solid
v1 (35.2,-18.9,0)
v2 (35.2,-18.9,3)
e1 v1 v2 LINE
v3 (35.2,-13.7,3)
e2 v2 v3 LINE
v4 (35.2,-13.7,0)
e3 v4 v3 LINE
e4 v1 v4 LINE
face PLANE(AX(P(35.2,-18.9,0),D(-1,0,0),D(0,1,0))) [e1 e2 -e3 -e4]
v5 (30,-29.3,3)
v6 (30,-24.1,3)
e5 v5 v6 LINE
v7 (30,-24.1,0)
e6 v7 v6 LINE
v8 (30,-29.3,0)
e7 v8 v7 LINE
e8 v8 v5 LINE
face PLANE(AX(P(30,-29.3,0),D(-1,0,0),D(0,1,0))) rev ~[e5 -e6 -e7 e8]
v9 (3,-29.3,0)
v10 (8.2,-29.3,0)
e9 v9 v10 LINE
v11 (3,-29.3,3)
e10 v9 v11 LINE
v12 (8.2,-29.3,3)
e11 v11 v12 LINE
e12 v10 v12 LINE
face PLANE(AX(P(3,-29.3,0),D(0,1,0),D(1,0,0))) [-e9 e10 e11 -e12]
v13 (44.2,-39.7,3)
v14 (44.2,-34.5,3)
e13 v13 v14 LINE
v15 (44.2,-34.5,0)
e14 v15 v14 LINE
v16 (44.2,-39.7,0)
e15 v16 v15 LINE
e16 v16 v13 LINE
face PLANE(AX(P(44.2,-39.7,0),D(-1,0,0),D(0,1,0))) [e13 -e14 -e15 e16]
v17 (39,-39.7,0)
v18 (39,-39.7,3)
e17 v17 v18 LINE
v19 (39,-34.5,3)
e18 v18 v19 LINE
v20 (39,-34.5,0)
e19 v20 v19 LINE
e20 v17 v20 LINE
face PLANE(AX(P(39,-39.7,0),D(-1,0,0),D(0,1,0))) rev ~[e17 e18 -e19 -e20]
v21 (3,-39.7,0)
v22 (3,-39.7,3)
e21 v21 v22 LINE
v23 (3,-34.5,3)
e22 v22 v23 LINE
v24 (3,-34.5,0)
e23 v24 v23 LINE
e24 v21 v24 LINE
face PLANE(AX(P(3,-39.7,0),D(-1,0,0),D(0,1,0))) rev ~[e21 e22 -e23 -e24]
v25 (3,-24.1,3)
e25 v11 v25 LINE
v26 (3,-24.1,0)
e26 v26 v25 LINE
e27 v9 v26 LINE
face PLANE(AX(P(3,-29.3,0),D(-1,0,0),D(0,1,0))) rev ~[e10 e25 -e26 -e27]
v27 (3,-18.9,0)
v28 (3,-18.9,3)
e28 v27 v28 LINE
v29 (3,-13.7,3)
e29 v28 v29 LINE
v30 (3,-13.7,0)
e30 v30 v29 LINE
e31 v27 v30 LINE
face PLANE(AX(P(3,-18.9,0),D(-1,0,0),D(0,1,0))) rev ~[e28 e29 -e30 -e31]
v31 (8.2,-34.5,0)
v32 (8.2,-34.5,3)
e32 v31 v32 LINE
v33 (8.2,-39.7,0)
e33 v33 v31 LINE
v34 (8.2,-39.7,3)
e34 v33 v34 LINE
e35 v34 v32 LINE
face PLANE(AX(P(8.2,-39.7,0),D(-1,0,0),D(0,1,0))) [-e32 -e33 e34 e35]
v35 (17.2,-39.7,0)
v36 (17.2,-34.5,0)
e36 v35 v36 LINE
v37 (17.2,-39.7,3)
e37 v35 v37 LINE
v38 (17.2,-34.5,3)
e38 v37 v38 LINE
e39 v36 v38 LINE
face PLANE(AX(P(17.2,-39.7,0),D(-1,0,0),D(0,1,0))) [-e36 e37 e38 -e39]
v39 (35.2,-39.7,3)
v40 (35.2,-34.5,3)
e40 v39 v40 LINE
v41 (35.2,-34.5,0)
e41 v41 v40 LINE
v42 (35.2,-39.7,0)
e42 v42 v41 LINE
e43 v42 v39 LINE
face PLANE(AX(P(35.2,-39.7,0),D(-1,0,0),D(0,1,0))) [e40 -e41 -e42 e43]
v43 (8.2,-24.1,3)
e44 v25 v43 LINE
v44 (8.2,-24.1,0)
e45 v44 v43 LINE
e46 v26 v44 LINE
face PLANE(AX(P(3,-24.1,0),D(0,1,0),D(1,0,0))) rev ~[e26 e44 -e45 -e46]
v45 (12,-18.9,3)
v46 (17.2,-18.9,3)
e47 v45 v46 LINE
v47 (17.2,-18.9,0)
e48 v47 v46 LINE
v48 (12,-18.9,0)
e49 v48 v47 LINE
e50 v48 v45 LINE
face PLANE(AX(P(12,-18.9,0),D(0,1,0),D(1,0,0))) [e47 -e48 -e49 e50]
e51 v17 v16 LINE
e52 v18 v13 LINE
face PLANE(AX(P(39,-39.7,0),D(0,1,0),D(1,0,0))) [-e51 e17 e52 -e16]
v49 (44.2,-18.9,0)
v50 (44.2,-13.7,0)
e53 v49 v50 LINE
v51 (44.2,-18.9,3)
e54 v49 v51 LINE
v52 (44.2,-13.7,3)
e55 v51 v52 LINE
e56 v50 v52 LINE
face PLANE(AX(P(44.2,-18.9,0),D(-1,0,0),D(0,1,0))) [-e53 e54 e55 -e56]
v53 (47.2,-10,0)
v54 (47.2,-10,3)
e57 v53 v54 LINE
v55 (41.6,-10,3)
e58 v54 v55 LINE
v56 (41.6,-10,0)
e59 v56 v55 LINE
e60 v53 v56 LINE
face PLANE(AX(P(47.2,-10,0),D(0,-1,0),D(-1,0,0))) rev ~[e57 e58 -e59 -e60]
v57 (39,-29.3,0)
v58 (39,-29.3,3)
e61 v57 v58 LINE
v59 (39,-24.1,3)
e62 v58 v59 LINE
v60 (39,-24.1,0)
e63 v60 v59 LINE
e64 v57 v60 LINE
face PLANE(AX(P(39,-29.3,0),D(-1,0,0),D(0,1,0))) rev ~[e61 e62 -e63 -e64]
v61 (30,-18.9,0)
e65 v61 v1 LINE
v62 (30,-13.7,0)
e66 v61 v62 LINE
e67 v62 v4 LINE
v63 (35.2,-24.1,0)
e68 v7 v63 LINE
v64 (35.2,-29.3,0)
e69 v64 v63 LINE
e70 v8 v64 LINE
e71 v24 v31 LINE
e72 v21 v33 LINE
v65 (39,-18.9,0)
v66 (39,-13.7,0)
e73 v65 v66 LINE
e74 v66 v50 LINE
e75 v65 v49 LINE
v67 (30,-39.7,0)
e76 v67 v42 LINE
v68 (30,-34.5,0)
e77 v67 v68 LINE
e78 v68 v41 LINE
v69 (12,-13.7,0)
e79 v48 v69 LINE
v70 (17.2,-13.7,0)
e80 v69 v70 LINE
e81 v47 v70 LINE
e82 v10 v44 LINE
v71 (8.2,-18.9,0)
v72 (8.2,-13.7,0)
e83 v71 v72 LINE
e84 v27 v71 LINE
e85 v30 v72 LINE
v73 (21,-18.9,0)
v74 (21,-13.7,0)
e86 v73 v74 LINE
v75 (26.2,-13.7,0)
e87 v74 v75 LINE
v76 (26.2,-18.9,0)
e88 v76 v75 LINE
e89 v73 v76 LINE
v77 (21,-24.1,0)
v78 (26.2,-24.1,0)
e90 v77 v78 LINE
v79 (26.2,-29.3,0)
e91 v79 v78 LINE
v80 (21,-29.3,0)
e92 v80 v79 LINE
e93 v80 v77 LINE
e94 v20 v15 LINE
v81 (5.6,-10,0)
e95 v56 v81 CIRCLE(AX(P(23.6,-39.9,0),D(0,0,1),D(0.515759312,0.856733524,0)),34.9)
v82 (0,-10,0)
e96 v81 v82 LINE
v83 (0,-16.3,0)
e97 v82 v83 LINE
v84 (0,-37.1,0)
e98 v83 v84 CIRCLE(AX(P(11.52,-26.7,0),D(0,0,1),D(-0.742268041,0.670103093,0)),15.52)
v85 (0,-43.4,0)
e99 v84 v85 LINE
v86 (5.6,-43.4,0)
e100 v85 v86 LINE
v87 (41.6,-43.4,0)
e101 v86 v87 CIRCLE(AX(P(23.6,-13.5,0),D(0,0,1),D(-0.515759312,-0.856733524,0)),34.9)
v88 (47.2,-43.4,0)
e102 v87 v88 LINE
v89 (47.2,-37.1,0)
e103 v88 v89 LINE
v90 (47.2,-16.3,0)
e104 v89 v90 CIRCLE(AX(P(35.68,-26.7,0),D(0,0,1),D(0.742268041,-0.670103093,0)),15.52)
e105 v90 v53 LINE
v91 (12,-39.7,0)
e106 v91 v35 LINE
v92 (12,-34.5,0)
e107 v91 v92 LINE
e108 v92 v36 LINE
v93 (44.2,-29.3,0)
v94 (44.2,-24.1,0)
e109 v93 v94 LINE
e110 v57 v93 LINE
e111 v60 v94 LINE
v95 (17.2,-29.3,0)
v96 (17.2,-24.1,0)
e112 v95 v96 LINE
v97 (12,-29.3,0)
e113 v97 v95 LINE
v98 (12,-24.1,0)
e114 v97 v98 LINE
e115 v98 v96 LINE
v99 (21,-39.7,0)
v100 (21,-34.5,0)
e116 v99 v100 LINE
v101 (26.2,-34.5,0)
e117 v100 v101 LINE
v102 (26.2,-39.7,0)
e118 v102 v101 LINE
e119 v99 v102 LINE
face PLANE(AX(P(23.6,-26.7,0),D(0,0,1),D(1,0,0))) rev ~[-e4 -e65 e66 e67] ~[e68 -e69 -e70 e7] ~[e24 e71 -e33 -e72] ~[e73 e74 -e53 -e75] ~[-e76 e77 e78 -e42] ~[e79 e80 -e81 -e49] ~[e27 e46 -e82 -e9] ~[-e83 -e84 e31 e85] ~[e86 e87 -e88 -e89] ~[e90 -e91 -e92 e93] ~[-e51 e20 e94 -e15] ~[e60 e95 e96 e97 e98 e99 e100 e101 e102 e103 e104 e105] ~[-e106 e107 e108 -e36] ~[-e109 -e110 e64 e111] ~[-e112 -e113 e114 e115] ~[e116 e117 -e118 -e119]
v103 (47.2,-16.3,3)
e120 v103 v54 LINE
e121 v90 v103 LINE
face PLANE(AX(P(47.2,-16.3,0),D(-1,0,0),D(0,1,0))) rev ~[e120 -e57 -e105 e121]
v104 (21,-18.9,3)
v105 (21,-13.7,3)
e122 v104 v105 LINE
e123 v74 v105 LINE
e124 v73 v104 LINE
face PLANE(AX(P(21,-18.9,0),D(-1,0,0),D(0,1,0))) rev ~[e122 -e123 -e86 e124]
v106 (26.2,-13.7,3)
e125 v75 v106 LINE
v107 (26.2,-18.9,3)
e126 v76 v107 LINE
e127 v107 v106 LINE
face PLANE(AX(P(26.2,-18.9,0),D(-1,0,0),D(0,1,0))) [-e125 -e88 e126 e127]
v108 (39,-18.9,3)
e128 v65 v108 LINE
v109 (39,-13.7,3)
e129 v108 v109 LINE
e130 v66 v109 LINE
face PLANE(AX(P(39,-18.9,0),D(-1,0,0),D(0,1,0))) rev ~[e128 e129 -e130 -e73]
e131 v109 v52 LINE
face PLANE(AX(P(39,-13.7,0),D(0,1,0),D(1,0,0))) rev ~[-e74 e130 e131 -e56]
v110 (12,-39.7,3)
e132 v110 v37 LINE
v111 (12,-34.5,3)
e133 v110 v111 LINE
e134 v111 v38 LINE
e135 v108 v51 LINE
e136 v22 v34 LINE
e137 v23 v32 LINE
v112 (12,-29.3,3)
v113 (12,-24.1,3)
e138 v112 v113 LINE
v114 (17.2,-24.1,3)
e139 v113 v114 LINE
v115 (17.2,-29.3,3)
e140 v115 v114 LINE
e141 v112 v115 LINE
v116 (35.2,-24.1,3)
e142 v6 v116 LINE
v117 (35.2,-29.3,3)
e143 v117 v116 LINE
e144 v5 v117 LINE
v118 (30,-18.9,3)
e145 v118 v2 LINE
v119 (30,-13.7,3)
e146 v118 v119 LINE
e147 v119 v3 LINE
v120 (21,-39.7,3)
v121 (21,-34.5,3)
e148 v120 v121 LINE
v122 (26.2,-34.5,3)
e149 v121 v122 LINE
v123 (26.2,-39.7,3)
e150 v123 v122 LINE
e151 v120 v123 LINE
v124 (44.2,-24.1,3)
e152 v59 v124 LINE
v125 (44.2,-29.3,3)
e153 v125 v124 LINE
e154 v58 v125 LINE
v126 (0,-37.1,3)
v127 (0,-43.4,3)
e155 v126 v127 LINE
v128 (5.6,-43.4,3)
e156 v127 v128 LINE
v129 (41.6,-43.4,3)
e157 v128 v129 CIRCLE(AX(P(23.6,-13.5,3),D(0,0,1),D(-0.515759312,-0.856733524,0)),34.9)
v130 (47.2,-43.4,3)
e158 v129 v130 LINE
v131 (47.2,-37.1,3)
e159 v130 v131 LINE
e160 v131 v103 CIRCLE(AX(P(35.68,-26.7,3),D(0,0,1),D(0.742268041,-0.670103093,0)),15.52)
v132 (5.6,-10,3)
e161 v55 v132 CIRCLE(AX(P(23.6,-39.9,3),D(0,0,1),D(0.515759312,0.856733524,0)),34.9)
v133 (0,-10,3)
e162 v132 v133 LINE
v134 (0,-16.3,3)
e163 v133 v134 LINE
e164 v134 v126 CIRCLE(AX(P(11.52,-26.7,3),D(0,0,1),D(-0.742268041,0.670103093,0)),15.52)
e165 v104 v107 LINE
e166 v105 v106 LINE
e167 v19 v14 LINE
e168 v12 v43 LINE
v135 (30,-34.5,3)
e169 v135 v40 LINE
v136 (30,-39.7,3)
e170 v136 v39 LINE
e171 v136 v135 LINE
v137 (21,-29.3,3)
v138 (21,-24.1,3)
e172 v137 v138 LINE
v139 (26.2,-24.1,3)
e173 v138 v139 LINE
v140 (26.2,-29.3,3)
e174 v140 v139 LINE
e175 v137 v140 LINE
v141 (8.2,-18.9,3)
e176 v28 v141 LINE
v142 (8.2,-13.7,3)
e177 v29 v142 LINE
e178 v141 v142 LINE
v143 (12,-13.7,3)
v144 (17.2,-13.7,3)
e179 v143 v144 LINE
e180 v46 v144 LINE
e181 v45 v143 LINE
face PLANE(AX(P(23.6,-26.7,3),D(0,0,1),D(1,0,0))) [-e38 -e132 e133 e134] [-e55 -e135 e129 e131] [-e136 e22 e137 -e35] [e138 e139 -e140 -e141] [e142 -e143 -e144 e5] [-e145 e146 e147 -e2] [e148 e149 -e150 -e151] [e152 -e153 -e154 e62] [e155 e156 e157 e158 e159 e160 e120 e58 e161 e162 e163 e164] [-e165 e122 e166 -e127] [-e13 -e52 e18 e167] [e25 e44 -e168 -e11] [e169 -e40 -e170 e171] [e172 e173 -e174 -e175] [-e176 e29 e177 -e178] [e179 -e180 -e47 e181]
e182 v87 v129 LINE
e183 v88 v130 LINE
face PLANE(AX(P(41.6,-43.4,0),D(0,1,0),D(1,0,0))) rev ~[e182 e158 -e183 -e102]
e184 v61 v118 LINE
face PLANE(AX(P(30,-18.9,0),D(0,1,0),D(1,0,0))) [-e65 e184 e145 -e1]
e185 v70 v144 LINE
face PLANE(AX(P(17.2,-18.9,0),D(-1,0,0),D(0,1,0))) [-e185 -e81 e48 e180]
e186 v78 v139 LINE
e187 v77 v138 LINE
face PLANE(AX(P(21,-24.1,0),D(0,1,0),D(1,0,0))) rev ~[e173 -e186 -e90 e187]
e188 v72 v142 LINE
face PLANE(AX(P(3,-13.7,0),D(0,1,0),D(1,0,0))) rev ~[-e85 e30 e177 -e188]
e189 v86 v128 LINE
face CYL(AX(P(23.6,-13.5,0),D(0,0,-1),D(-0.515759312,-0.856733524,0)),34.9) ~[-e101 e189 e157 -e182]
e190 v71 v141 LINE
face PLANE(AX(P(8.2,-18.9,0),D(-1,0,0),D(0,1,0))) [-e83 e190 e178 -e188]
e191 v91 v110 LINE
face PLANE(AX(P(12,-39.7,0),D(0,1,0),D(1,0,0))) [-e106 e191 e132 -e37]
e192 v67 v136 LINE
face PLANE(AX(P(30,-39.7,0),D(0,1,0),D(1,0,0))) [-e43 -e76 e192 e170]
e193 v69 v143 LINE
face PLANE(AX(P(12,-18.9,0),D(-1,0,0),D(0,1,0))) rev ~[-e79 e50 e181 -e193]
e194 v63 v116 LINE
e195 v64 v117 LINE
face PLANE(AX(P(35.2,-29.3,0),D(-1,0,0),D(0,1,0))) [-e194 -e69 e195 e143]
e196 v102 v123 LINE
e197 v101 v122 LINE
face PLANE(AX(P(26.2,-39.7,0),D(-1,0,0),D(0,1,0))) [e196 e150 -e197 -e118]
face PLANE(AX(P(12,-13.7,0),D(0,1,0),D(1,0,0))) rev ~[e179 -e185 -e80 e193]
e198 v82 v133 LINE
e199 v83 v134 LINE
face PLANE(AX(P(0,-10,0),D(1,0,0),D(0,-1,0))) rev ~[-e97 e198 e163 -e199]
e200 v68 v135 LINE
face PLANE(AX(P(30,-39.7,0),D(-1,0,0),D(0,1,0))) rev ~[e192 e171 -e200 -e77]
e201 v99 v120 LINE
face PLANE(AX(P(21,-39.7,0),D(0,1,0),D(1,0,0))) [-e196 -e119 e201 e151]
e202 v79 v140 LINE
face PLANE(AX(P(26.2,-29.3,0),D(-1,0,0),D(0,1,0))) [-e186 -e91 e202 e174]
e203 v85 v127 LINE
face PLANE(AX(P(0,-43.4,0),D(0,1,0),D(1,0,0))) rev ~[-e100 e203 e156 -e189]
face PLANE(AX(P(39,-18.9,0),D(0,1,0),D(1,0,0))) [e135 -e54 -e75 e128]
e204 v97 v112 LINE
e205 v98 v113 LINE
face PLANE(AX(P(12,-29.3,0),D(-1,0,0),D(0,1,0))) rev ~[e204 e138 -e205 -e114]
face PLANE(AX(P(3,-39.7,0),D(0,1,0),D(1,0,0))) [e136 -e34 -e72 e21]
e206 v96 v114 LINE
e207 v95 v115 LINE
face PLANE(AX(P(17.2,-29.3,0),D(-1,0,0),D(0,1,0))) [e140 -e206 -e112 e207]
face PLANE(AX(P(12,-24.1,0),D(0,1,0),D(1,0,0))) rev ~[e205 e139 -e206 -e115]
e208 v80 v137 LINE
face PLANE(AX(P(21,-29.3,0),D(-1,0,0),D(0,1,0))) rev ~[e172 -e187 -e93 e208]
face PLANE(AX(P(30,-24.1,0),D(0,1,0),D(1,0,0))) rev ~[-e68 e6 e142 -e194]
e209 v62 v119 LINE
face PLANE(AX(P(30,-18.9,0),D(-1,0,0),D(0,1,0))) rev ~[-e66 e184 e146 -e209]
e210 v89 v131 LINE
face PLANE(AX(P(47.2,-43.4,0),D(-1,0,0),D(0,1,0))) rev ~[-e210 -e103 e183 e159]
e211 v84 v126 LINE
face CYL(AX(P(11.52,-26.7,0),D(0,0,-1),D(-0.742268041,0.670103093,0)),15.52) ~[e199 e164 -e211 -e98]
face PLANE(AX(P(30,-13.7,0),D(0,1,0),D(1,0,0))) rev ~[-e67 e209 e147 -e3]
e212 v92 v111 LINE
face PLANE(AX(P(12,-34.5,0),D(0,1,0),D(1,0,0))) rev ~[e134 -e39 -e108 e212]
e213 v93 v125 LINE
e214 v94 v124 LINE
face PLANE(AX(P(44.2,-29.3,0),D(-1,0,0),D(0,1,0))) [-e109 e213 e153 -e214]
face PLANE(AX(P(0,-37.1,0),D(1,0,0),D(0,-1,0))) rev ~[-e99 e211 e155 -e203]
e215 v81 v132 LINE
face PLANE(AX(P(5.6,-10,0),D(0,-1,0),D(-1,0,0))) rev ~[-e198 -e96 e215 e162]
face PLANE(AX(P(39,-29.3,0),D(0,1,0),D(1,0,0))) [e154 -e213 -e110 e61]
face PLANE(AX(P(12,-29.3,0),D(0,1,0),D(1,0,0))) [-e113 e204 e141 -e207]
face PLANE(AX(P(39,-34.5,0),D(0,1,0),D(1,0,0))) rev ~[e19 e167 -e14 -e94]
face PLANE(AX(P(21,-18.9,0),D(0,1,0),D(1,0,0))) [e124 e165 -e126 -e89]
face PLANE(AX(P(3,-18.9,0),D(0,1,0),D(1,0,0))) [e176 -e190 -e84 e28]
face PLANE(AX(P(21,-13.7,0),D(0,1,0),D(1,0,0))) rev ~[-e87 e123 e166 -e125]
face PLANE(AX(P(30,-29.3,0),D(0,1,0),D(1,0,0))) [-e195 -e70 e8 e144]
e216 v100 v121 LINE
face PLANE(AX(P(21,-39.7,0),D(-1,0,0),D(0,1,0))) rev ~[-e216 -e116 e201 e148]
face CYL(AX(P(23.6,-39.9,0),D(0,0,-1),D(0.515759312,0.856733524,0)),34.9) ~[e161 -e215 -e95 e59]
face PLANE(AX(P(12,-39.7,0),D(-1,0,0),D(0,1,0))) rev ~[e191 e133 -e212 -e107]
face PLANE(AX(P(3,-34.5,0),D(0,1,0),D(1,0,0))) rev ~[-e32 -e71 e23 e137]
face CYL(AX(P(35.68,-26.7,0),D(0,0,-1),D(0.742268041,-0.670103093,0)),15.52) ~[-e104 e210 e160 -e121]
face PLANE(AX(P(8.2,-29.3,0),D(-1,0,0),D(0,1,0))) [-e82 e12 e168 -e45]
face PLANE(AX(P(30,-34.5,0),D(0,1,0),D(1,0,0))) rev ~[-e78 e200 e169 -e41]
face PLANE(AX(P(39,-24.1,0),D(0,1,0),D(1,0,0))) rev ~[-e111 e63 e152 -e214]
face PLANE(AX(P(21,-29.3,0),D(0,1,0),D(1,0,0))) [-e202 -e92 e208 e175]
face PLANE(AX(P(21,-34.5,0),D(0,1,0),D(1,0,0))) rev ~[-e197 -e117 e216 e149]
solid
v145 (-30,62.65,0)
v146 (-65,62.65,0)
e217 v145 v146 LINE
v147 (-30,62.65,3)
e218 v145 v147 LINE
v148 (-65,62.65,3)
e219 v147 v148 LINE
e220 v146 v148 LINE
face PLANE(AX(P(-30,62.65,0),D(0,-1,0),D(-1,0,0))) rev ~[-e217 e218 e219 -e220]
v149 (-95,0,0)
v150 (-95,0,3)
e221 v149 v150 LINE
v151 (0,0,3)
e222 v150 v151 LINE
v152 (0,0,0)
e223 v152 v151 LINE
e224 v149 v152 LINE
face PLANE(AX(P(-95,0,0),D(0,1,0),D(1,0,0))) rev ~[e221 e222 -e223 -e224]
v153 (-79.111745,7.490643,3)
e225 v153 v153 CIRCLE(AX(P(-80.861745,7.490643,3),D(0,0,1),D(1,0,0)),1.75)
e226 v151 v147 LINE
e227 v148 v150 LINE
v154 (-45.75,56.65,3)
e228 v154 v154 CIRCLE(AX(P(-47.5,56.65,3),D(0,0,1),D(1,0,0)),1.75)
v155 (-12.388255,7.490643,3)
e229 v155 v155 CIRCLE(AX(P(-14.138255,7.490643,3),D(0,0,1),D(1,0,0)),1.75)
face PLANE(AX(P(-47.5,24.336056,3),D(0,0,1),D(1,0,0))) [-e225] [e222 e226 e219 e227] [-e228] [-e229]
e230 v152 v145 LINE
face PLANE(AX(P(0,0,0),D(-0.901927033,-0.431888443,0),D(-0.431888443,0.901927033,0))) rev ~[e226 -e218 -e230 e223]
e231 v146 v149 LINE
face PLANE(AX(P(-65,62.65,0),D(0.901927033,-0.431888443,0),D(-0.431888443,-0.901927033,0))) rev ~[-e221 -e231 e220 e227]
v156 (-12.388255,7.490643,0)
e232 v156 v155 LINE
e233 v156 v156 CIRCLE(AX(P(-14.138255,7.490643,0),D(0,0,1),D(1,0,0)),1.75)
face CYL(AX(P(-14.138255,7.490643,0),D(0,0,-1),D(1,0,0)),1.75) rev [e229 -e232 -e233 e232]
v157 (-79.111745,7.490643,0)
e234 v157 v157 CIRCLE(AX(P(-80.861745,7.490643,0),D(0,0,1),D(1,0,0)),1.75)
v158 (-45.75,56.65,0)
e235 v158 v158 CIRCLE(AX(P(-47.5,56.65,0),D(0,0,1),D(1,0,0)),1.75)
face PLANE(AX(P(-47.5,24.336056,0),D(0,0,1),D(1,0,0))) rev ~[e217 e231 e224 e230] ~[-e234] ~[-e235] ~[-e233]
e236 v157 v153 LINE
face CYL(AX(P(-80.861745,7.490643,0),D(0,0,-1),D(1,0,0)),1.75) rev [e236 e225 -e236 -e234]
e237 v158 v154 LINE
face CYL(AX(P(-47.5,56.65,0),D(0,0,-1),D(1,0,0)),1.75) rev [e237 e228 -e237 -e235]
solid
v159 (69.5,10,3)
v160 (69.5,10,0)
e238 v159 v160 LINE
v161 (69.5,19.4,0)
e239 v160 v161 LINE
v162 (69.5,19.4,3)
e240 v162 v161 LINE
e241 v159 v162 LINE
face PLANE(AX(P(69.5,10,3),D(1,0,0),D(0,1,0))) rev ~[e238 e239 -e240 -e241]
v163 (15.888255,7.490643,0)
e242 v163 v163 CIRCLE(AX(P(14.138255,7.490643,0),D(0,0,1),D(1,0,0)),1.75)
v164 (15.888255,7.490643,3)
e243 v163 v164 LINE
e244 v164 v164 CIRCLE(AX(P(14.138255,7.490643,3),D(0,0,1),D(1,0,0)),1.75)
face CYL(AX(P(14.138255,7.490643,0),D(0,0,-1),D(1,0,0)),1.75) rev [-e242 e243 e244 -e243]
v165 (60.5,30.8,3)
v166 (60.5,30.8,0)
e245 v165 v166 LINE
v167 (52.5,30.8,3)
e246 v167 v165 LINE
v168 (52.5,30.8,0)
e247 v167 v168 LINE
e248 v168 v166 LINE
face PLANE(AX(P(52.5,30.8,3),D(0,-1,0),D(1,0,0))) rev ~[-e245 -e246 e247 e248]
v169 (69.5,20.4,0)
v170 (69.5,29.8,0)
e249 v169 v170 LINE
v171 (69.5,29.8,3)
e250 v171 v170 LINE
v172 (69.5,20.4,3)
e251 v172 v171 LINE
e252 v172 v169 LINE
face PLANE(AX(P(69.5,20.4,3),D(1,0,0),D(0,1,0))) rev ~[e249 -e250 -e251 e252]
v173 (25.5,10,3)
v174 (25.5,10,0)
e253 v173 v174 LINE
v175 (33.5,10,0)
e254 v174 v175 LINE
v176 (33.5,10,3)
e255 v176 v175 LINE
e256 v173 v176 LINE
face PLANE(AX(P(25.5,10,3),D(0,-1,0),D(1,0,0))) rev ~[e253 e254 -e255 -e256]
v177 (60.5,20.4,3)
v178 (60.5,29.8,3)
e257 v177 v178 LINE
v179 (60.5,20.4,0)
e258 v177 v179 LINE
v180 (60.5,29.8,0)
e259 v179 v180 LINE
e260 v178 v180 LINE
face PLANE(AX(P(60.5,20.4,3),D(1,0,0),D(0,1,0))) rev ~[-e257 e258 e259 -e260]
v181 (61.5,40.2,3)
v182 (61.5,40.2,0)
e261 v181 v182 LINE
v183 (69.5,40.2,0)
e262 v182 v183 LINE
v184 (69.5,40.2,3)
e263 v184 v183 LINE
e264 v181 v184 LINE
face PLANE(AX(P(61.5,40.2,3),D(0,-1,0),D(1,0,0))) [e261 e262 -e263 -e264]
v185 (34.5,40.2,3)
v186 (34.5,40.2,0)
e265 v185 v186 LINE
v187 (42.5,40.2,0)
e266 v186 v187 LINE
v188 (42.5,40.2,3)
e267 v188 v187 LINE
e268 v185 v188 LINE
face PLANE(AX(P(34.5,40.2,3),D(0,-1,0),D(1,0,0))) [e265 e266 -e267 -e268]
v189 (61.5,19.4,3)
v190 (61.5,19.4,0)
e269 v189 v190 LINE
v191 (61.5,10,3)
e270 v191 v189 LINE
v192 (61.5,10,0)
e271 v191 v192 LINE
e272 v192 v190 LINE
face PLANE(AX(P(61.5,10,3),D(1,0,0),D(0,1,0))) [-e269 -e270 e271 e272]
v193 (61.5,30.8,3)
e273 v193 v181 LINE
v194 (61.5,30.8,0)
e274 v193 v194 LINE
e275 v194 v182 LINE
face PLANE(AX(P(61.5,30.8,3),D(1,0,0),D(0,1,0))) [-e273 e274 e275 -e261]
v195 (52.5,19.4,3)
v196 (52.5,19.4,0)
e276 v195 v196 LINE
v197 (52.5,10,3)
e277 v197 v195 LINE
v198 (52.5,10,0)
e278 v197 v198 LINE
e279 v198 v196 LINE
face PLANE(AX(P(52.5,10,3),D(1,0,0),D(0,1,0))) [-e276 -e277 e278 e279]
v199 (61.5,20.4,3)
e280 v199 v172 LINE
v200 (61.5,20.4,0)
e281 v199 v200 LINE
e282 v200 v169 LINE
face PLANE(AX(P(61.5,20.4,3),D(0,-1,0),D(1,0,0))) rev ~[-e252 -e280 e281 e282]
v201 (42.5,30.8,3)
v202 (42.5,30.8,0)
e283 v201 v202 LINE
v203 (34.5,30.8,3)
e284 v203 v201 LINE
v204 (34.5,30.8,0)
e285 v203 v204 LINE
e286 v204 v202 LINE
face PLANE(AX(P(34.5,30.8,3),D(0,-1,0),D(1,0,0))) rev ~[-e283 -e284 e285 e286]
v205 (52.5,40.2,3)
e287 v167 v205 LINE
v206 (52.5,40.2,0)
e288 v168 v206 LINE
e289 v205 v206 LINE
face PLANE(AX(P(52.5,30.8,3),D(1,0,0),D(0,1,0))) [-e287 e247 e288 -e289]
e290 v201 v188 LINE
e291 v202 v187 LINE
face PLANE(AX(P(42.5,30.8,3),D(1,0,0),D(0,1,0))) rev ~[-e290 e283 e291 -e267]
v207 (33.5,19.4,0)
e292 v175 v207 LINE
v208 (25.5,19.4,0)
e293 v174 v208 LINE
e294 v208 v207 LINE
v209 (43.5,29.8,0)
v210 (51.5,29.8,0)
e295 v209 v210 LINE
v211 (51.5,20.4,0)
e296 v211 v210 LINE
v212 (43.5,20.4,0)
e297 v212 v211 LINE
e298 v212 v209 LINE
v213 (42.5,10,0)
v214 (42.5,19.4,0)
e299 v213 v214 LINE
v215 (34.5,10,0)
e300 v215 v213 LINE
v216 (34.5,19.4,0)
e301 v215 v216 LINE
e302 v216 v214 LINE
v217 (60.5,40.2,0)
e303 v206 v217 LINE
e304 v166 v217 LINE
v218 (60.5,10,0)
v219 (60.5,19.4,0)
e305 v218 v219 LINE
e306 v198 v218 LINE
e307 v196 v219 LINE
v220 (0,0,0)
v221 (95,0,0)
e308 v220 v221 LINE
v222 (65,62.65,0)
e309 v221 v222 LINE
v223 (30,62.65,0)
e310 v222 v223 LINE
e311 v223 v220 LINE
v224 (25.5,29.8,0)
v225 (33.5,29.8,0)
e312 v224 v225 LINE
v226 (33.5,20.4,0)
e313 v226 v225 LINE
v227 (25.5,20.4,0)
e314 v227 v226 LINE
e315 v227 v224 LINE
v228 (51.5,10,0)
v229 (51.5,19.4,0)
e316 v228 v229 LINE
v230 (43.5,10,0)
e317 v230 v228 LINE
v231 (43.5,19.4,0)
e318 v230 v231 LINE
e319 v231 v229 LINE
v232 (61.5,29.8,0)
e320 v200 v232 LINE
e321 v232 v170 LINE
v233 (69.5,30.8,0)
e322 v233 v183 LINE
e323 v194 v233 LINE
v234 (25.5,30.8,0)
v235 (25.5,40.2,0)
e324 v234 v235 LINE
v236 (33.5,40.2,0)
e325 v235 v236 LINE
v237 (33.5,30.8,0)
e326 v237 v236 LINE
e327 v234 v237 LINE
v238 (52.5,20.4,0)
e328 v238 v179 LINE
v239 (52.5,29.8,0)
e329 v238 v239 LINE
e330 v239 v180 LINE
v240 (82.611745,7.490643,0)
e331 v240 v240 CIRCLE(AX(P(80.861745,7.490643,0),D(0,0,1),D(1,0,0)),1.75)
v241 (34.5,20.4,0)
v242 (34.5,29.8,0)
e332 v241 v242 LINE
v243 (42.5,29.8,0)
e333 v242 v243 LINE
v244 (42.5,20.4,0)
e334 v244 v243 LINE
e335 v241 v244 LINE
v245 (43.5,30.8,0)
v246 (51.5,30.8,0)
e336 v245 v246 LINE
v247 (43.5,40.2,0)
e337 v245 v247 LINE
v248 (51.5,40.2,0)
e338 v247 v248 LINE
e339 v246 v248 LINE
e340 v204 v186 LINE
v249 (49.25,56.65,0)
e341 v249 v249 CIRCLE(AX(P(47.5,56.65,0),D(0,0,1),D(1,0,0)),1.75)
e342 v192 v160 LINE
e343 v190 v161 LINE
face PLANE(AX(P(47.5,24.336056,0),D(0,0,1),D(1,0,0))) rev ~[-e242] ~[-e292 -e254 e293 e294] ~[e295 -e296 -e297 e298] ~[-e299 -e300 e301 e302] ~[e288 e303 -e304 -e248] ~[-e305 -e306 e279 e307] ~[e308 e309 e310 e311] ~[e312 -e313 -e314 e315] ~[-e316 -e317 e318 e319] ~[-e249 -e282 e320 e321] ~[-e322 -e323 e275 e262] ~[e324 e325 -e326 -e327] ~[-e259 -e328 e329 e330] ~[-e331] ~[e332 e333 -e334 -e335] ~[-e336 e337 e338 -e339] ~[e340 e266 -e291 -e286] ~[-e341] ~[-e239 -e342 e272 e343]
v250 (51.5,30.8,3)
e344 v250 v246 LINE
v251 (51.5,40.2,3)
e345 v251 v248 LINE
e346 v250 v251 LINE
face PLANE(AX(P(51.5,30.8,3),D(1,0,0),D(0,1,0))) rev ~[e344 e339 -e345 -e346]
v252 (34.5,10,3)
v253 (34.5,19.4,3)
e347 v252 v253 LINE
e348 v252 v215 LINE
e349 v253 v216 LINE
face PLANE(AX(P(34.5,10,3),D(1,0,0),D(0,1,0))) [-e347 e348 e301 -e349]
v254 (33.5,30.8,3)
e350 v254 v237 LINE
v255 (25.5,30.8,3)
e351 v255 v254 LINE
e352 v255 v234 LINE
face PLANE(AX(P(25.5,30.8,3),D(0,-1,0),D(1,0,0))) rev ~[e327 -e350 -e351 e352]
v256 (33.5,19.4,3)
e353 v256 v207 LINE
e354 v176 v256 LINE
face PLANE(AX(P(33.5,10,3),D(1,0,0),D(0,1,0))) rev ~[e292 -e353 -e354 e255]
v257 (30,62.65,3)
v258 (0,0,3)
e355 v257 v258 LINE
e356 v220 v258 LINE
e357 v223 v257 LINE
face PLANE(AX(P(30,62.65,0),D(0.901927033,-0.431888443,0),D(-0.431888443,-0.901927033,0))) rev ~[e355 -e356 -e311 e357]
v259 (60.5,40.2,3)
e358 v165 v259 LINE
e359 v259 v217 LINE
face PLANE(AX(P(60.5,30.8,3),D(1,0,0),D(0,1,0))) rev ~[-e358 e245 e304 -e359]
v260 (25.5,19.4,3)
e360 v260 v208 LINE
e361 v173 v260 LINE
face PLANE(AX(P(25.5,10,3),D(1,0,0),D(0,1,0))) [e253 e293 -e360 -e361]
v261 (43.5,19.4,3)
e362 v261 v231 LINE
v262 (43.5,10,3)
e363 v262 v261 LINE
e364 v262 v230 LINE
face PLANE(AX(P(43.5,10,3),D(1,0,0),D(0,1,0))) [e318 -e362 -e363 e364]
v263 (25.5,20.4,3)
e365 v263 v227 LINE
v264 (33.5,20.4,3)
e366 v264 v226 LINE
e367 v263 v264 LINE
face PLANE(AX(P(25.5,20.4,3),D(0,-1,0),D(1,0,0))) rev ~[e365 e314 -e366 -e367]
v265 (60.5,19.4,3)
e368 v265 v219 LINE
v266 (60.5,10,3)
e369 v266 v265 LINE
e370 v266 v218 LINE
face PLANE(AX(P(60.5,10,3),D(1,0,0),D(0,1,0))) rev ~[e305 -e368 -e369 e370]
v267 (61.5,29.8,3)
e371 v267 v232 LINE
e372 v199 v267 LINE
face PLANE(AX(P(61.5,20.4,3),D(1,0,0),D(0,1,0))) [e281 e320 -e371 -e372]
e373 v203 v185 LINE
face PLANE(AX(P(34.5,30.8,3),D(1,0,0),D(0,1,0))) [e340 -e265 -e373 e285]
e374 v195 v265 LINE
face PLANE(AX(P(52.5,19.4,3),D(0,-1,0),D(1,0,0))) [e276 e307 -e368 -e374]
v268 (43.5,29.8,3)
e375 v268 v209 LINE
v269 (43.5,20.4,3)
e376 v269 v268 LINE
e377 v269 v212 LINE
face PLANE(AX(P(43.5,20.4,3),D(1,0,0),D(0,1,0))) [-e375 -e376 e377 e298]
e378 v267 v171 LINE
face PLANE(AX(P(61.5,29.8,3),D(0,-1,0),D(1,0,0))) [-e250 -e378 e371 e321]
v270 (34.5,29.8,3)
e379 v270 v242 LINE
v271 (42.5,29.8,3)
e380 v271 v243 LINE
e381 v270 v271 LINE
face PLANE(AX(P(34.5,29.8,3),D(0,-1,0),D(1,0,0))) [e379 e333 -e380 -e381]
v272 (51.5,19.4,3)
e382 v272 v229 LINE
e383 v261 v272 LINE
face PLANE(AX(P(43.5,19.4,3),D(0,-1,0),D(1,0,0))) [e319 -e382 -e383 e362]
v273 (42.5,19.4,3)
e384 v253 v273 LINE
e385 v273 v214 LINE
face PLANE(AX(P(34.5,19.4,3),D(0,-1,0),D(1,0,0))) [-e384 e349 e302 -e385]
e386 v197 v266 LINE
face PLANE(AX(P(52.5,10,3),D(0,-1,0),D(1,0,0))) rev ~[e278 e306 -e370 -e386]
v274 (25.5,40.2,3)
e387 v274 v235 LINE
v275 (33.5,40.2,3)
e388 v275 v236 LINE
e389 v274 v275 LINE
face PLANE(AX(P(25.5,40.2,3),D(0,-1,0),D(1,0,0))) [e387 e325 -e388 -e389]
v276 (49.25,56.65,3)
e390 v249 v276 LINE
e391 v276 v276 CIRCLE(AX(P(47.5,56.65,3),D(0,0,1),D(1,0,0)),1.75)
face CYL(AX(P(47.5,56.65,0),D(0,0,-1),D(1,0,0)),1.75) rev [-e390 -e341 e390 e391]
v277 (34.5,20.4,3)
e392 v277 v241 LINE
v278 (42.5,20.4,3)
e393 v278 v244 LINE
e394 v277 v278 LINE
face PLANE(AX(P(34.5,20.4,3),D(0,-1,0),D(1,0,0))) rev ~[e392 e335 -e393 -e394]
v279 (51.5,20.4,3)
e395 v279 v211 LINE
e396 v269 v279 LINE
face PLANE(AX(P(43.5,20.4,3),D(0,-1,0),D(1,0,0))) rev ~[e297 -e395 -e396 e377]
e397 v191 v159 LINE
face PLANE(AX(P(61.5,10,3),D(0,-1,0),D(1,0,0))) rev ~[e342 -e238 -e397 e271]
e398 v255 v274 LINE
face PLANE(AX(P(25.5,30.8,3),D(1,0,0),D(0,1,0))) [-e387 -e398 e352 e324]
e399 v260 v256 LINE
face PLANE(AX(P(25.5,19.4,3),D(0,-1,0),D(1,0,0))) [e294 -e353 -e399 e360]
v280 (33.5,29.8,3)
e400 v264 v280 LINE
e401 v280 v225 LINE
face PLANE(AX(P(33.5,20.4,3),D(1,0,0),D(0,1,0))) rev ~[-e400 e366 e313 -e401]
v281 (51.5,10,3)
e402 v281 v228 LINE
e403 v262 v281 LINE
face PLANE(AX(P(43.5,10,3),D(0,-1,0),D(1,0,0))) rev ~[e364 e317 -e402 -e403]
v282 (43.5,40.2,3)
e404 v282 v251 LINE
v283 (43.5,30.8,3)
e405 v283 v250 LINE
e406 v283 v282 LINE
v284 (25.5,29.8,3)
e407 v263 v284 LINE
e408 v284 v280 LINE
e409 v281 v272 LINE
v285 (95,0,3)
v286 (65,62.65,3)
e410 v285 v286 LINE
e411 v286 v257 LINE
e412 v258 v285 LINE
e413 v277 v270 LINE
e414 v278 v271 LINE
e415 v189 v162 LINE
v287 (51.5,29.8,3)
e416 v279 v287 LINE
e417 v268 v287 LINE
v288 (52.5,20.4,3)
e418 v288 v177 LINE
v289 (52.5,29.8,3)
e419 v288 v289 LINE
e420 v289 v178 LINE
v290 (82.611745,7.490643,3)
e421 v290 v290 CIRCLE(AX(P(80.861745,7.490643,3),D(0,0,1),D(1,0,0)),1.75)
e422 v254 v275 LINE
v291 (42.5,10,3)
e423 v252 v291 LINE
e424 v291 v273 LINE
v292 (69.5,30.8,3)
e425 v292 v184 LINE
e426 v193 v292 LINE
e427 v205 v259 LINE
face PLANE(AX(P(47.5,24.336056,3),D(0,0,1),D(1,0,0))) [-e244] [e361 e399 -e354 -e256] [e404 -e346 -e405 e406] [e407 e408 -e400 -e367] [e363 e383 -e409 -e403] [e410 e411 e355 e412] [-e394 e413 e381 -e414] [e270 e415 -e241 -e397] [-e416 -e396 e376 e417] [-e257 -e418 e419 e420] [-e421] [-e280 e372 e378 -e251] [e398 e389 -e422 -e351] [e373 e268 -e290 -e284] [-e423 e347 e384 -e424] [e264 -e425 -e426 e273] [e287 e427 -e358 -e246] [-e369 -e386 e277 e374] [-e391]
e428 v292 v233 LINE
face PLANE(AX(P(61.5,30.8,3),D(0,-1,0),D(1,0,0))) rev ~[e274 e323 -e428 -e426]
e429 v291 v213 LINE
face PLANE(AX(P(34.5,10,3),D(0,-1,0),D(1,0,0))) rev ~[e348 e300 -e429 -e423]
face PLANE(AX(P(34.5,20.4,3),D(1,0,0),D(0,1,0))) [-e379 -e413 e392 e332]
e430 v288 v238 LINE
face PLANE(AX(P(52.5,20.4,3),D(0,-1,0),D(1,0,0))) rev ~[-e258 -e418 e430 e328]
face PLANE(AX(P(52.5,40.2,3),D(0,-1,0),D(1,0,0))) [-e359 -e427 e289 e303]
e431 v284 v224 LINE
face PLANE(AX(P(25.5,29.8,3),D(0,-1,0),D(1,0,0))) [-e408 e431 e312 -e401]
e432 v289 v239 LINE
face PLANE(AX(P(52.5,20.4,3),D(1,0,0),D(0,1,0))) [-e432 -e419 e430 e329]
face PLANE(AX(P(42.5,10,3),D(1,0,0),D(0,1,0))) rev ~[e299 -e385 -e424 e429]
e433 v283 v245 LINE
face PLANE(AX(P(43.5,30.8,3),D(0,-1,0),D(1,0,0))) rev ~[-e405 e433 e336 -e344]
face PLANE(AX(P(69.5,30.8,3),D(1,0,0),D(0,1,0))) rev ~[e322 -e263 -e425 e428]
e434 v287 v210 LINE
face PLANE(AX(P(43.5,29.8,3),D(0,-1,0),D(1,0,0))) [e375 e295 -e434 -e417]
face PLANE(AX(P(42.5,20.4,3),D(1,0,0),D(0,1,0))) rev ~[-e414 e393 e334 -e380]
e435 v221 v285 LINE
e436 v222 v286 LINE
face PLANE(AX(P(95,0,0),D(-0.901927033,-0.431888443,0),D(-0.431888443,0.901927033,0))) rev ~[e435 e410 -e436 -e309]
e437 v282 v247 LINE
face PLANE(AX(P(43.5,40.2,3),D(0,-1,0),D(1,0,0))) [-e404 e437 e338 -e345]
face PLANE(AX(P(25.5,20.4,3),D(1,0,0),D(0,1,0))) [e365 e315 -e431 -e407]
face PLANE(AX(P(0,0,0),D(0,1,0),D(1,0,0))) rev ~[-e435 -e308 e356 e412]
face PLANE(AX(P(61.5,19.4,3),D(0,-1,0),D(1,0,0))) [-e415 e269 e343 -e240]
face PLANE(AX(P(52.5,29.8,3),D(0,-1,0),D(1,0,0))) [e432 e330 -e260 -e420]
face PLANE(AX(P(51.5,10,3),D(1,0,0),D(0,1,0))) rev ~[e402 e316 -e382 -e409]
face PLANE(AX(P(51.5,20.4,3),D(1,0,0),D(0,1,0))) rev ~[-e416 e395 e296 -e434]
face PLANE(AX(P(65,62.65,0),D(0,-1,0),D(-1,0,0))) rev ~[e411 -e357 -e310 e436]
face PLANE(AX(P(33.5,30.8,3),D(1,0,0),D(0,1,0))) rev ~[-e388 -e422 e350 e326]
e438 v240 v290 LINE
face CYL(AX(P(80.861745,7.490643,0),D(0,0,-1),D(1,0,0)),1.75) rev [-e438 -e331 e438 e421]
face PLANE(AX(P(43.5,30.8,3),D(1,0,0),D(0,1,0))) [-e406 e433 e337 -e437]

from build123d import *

# Parameters (mm, degrees)
F0_R     = 1.75
F0_W     = 5.2
F0_H     = 5.2
F1_DEPTH = 3
F2_W     = 8
F2_H     = 9.4
F3_DEPTH = 3.001


with BuildPart() as f1:
    # F0 (on Top) → F1 (new body)
    with BuildSketch(Plane.XY):
        Polygon((-95, 0), (0, 0), (-30, 62.65), (-65, 62.65), align=None)
        with Locations((-80.861745, 7.490643)):
            Circle(F0_R, mode=Mode.SUBTRACT)
        with Locations((-14.138255, 7.490643)):
            Circle(F0_R, mode=Mode.SUBTRACT)
        with Locations((-47.5, 56.65)):
            Circle(F0_R, mode=Mode.SUBTRACT)
        Polygon((30, 62.65), (0, 0), (95, 0), (65, 62.65), align=None)
        with Locations((14.138255, 7.490643)):
            Circle(F0_R, mode=Mode.SUBTRACT)
        with Locations((80.861745, 7.490643)):
            Circle(F0_R, mode=Mode.SUBTRACT)
        with Locations((47.5, 56.65)):
            Circle(F0_R, mode=Mode.SUBTRACT)
        Polygon((5.6, -10), (0, -10), (0, -16.3), (0, -37.1), (0, -43.4), (5.6, -43.4), (41.6, -43.4), (47.2, -43.4), (47.2, -37.1), (47.2, -16.3), (47.2, -10), (41.6, -10), align=None)
        with Locations((5.6, -37.1)):
            Rectangle(F0_W, F0_H, mode=Mode.SUBTRACT)
        with Locations((14.6, -37.1)):
            Rectangle(F0_W, F0_H, mode=Mode.SUBTRACT)
        with Locations((23.6, -37.1)):
            Rectangle(F0_W, F0_H, mode=Mode.SUBTRACT)
        with Locations((32.6, -37.1)):
            Rectangle(F0_W, F0_H, mode=Mode.SUBTRACT)
        with Locations((41.6, -37.1)):
            Rectangle(F0_W, F0_H, mode=Mode.SUBTRACT)
        with Locations((5.6, -26.7)):
            Rectangle(F0_W, F0_H, mode=Mode.SUBTRACT)
        with Locations((14.6, -26.7)):
            Rectangle(F0_W, F0_H, mode=Mode.SUBTRACT)
        with Locations((23.6, -26.7)):
            Rectangle(F0_W, F0_H, mode=Mode.SUBTRACT)
        with Locations((32.6, -26.7)):
            Rectangle(F0_W, F0_H, mode=Mode.SUBTRACT)
        with Locations((41.6, -26.7)):
            Rectangle(F0_W, F0_H, mode=Mode.SUBTRACT)
        with Locations((5.6, -16.3)):
            Rectangle(F0_W, F0_H, mode=Mode.SUBTRACT)
        with Locations((14.6, -16.3)):
            Rectangle(F0_W, F0_H, mode=Mode.SUBTRACT)
        with Locations((23.6, -16.3)):
            Rectangle(F0_W, F0_H, mode=Mode.SUBTRACT)
        with Locations((32.6, -16.3)):
            Rectangle(F0_W, F0_H, mode=Mode.SUBTRACT)
        with Locations((41.6, -16.3)):
            Rectangle(F0_W, F0_H, mode=Mode.SUBTRACT)
        with BuildLine():
            Line((41.6, -43.4), (5.6, -43.4))
            ThreePointArc((5.6, -43.4), (23.6, -48.4), (41.6, -43.4))
        make_face()
        with BuildLine():
            ThreePointArc((47.2, -37.1), (51.2, -26.7), (47.2, -16.3))
            Line((47.2, -16.3), (47.2, -37.1))
        make_face()
        with BuildLine():
            ThreePointArc((41.6, -10), (23.6, -5), (5.6, -10))
            Line((5.6, -10), (41.6, -10))
        make_face()
        with BuildLine():
            Line((0, -37.1), (0, -16.3))
            ThreePointArc((0, -16.3), (-4, -26.7), (0, -37.1))
        make_face()
    extrude(amount=F1_DEPTH)

    # F2 (on face) → F3 (cut, through all)
    with BuildSketch(Plane.XY.offset(3)):
        with Locations((29.5, 14.7)):
            Rectangle(F2_W, F2_H)
        with Locations((29.5, 25.1)):
            Rectangle(F2_W, F2_H)
        with Locations((29.5, 35.5)):
            Rectangle(F2_W, F2_H)
        with Locations((38.5, 14.7)):
            Rectangle(F2_W, F2_H)
        with Locations((38.5, 25.1)):
            Rectangle(F2_W, F2_H)
        with Locations((38.5, 35.5)):
            Rectangle(F2_W, F2_H)
        with Locations((47.5, 14.7)):
            Rectangle(F2_W, F2_H)
        with Locations((47.5, 25.1)):
            Rectangle(F2_W, F2_H)
        with Locations((47.5, 35.5)):
            Rectangle(F2_W, F2_H)
        with Locations((56.5, 14.7)):
            Rectangle(F2_W, F2_H)
        with Locations((56.5, 25.1)):
            Rectangle(F2_W, F2_H)
        with Locations((56.5, 35.5)):
            Rectangle(F2_W, F2_H)
        with Locations((65.5, 14.7)):
            Rectangle(F2_W, F2_H)
        with Locations((65.5, 25.1)):
            Rectangle(F2_W, F2_H)
        with Locations((65.5, 35.5)):
            Rectangle(F2_W, F2_H)
    extrude(amount=-F3_DEPTH, mode=Mode.SUBTRACT)


solid = f1.part
